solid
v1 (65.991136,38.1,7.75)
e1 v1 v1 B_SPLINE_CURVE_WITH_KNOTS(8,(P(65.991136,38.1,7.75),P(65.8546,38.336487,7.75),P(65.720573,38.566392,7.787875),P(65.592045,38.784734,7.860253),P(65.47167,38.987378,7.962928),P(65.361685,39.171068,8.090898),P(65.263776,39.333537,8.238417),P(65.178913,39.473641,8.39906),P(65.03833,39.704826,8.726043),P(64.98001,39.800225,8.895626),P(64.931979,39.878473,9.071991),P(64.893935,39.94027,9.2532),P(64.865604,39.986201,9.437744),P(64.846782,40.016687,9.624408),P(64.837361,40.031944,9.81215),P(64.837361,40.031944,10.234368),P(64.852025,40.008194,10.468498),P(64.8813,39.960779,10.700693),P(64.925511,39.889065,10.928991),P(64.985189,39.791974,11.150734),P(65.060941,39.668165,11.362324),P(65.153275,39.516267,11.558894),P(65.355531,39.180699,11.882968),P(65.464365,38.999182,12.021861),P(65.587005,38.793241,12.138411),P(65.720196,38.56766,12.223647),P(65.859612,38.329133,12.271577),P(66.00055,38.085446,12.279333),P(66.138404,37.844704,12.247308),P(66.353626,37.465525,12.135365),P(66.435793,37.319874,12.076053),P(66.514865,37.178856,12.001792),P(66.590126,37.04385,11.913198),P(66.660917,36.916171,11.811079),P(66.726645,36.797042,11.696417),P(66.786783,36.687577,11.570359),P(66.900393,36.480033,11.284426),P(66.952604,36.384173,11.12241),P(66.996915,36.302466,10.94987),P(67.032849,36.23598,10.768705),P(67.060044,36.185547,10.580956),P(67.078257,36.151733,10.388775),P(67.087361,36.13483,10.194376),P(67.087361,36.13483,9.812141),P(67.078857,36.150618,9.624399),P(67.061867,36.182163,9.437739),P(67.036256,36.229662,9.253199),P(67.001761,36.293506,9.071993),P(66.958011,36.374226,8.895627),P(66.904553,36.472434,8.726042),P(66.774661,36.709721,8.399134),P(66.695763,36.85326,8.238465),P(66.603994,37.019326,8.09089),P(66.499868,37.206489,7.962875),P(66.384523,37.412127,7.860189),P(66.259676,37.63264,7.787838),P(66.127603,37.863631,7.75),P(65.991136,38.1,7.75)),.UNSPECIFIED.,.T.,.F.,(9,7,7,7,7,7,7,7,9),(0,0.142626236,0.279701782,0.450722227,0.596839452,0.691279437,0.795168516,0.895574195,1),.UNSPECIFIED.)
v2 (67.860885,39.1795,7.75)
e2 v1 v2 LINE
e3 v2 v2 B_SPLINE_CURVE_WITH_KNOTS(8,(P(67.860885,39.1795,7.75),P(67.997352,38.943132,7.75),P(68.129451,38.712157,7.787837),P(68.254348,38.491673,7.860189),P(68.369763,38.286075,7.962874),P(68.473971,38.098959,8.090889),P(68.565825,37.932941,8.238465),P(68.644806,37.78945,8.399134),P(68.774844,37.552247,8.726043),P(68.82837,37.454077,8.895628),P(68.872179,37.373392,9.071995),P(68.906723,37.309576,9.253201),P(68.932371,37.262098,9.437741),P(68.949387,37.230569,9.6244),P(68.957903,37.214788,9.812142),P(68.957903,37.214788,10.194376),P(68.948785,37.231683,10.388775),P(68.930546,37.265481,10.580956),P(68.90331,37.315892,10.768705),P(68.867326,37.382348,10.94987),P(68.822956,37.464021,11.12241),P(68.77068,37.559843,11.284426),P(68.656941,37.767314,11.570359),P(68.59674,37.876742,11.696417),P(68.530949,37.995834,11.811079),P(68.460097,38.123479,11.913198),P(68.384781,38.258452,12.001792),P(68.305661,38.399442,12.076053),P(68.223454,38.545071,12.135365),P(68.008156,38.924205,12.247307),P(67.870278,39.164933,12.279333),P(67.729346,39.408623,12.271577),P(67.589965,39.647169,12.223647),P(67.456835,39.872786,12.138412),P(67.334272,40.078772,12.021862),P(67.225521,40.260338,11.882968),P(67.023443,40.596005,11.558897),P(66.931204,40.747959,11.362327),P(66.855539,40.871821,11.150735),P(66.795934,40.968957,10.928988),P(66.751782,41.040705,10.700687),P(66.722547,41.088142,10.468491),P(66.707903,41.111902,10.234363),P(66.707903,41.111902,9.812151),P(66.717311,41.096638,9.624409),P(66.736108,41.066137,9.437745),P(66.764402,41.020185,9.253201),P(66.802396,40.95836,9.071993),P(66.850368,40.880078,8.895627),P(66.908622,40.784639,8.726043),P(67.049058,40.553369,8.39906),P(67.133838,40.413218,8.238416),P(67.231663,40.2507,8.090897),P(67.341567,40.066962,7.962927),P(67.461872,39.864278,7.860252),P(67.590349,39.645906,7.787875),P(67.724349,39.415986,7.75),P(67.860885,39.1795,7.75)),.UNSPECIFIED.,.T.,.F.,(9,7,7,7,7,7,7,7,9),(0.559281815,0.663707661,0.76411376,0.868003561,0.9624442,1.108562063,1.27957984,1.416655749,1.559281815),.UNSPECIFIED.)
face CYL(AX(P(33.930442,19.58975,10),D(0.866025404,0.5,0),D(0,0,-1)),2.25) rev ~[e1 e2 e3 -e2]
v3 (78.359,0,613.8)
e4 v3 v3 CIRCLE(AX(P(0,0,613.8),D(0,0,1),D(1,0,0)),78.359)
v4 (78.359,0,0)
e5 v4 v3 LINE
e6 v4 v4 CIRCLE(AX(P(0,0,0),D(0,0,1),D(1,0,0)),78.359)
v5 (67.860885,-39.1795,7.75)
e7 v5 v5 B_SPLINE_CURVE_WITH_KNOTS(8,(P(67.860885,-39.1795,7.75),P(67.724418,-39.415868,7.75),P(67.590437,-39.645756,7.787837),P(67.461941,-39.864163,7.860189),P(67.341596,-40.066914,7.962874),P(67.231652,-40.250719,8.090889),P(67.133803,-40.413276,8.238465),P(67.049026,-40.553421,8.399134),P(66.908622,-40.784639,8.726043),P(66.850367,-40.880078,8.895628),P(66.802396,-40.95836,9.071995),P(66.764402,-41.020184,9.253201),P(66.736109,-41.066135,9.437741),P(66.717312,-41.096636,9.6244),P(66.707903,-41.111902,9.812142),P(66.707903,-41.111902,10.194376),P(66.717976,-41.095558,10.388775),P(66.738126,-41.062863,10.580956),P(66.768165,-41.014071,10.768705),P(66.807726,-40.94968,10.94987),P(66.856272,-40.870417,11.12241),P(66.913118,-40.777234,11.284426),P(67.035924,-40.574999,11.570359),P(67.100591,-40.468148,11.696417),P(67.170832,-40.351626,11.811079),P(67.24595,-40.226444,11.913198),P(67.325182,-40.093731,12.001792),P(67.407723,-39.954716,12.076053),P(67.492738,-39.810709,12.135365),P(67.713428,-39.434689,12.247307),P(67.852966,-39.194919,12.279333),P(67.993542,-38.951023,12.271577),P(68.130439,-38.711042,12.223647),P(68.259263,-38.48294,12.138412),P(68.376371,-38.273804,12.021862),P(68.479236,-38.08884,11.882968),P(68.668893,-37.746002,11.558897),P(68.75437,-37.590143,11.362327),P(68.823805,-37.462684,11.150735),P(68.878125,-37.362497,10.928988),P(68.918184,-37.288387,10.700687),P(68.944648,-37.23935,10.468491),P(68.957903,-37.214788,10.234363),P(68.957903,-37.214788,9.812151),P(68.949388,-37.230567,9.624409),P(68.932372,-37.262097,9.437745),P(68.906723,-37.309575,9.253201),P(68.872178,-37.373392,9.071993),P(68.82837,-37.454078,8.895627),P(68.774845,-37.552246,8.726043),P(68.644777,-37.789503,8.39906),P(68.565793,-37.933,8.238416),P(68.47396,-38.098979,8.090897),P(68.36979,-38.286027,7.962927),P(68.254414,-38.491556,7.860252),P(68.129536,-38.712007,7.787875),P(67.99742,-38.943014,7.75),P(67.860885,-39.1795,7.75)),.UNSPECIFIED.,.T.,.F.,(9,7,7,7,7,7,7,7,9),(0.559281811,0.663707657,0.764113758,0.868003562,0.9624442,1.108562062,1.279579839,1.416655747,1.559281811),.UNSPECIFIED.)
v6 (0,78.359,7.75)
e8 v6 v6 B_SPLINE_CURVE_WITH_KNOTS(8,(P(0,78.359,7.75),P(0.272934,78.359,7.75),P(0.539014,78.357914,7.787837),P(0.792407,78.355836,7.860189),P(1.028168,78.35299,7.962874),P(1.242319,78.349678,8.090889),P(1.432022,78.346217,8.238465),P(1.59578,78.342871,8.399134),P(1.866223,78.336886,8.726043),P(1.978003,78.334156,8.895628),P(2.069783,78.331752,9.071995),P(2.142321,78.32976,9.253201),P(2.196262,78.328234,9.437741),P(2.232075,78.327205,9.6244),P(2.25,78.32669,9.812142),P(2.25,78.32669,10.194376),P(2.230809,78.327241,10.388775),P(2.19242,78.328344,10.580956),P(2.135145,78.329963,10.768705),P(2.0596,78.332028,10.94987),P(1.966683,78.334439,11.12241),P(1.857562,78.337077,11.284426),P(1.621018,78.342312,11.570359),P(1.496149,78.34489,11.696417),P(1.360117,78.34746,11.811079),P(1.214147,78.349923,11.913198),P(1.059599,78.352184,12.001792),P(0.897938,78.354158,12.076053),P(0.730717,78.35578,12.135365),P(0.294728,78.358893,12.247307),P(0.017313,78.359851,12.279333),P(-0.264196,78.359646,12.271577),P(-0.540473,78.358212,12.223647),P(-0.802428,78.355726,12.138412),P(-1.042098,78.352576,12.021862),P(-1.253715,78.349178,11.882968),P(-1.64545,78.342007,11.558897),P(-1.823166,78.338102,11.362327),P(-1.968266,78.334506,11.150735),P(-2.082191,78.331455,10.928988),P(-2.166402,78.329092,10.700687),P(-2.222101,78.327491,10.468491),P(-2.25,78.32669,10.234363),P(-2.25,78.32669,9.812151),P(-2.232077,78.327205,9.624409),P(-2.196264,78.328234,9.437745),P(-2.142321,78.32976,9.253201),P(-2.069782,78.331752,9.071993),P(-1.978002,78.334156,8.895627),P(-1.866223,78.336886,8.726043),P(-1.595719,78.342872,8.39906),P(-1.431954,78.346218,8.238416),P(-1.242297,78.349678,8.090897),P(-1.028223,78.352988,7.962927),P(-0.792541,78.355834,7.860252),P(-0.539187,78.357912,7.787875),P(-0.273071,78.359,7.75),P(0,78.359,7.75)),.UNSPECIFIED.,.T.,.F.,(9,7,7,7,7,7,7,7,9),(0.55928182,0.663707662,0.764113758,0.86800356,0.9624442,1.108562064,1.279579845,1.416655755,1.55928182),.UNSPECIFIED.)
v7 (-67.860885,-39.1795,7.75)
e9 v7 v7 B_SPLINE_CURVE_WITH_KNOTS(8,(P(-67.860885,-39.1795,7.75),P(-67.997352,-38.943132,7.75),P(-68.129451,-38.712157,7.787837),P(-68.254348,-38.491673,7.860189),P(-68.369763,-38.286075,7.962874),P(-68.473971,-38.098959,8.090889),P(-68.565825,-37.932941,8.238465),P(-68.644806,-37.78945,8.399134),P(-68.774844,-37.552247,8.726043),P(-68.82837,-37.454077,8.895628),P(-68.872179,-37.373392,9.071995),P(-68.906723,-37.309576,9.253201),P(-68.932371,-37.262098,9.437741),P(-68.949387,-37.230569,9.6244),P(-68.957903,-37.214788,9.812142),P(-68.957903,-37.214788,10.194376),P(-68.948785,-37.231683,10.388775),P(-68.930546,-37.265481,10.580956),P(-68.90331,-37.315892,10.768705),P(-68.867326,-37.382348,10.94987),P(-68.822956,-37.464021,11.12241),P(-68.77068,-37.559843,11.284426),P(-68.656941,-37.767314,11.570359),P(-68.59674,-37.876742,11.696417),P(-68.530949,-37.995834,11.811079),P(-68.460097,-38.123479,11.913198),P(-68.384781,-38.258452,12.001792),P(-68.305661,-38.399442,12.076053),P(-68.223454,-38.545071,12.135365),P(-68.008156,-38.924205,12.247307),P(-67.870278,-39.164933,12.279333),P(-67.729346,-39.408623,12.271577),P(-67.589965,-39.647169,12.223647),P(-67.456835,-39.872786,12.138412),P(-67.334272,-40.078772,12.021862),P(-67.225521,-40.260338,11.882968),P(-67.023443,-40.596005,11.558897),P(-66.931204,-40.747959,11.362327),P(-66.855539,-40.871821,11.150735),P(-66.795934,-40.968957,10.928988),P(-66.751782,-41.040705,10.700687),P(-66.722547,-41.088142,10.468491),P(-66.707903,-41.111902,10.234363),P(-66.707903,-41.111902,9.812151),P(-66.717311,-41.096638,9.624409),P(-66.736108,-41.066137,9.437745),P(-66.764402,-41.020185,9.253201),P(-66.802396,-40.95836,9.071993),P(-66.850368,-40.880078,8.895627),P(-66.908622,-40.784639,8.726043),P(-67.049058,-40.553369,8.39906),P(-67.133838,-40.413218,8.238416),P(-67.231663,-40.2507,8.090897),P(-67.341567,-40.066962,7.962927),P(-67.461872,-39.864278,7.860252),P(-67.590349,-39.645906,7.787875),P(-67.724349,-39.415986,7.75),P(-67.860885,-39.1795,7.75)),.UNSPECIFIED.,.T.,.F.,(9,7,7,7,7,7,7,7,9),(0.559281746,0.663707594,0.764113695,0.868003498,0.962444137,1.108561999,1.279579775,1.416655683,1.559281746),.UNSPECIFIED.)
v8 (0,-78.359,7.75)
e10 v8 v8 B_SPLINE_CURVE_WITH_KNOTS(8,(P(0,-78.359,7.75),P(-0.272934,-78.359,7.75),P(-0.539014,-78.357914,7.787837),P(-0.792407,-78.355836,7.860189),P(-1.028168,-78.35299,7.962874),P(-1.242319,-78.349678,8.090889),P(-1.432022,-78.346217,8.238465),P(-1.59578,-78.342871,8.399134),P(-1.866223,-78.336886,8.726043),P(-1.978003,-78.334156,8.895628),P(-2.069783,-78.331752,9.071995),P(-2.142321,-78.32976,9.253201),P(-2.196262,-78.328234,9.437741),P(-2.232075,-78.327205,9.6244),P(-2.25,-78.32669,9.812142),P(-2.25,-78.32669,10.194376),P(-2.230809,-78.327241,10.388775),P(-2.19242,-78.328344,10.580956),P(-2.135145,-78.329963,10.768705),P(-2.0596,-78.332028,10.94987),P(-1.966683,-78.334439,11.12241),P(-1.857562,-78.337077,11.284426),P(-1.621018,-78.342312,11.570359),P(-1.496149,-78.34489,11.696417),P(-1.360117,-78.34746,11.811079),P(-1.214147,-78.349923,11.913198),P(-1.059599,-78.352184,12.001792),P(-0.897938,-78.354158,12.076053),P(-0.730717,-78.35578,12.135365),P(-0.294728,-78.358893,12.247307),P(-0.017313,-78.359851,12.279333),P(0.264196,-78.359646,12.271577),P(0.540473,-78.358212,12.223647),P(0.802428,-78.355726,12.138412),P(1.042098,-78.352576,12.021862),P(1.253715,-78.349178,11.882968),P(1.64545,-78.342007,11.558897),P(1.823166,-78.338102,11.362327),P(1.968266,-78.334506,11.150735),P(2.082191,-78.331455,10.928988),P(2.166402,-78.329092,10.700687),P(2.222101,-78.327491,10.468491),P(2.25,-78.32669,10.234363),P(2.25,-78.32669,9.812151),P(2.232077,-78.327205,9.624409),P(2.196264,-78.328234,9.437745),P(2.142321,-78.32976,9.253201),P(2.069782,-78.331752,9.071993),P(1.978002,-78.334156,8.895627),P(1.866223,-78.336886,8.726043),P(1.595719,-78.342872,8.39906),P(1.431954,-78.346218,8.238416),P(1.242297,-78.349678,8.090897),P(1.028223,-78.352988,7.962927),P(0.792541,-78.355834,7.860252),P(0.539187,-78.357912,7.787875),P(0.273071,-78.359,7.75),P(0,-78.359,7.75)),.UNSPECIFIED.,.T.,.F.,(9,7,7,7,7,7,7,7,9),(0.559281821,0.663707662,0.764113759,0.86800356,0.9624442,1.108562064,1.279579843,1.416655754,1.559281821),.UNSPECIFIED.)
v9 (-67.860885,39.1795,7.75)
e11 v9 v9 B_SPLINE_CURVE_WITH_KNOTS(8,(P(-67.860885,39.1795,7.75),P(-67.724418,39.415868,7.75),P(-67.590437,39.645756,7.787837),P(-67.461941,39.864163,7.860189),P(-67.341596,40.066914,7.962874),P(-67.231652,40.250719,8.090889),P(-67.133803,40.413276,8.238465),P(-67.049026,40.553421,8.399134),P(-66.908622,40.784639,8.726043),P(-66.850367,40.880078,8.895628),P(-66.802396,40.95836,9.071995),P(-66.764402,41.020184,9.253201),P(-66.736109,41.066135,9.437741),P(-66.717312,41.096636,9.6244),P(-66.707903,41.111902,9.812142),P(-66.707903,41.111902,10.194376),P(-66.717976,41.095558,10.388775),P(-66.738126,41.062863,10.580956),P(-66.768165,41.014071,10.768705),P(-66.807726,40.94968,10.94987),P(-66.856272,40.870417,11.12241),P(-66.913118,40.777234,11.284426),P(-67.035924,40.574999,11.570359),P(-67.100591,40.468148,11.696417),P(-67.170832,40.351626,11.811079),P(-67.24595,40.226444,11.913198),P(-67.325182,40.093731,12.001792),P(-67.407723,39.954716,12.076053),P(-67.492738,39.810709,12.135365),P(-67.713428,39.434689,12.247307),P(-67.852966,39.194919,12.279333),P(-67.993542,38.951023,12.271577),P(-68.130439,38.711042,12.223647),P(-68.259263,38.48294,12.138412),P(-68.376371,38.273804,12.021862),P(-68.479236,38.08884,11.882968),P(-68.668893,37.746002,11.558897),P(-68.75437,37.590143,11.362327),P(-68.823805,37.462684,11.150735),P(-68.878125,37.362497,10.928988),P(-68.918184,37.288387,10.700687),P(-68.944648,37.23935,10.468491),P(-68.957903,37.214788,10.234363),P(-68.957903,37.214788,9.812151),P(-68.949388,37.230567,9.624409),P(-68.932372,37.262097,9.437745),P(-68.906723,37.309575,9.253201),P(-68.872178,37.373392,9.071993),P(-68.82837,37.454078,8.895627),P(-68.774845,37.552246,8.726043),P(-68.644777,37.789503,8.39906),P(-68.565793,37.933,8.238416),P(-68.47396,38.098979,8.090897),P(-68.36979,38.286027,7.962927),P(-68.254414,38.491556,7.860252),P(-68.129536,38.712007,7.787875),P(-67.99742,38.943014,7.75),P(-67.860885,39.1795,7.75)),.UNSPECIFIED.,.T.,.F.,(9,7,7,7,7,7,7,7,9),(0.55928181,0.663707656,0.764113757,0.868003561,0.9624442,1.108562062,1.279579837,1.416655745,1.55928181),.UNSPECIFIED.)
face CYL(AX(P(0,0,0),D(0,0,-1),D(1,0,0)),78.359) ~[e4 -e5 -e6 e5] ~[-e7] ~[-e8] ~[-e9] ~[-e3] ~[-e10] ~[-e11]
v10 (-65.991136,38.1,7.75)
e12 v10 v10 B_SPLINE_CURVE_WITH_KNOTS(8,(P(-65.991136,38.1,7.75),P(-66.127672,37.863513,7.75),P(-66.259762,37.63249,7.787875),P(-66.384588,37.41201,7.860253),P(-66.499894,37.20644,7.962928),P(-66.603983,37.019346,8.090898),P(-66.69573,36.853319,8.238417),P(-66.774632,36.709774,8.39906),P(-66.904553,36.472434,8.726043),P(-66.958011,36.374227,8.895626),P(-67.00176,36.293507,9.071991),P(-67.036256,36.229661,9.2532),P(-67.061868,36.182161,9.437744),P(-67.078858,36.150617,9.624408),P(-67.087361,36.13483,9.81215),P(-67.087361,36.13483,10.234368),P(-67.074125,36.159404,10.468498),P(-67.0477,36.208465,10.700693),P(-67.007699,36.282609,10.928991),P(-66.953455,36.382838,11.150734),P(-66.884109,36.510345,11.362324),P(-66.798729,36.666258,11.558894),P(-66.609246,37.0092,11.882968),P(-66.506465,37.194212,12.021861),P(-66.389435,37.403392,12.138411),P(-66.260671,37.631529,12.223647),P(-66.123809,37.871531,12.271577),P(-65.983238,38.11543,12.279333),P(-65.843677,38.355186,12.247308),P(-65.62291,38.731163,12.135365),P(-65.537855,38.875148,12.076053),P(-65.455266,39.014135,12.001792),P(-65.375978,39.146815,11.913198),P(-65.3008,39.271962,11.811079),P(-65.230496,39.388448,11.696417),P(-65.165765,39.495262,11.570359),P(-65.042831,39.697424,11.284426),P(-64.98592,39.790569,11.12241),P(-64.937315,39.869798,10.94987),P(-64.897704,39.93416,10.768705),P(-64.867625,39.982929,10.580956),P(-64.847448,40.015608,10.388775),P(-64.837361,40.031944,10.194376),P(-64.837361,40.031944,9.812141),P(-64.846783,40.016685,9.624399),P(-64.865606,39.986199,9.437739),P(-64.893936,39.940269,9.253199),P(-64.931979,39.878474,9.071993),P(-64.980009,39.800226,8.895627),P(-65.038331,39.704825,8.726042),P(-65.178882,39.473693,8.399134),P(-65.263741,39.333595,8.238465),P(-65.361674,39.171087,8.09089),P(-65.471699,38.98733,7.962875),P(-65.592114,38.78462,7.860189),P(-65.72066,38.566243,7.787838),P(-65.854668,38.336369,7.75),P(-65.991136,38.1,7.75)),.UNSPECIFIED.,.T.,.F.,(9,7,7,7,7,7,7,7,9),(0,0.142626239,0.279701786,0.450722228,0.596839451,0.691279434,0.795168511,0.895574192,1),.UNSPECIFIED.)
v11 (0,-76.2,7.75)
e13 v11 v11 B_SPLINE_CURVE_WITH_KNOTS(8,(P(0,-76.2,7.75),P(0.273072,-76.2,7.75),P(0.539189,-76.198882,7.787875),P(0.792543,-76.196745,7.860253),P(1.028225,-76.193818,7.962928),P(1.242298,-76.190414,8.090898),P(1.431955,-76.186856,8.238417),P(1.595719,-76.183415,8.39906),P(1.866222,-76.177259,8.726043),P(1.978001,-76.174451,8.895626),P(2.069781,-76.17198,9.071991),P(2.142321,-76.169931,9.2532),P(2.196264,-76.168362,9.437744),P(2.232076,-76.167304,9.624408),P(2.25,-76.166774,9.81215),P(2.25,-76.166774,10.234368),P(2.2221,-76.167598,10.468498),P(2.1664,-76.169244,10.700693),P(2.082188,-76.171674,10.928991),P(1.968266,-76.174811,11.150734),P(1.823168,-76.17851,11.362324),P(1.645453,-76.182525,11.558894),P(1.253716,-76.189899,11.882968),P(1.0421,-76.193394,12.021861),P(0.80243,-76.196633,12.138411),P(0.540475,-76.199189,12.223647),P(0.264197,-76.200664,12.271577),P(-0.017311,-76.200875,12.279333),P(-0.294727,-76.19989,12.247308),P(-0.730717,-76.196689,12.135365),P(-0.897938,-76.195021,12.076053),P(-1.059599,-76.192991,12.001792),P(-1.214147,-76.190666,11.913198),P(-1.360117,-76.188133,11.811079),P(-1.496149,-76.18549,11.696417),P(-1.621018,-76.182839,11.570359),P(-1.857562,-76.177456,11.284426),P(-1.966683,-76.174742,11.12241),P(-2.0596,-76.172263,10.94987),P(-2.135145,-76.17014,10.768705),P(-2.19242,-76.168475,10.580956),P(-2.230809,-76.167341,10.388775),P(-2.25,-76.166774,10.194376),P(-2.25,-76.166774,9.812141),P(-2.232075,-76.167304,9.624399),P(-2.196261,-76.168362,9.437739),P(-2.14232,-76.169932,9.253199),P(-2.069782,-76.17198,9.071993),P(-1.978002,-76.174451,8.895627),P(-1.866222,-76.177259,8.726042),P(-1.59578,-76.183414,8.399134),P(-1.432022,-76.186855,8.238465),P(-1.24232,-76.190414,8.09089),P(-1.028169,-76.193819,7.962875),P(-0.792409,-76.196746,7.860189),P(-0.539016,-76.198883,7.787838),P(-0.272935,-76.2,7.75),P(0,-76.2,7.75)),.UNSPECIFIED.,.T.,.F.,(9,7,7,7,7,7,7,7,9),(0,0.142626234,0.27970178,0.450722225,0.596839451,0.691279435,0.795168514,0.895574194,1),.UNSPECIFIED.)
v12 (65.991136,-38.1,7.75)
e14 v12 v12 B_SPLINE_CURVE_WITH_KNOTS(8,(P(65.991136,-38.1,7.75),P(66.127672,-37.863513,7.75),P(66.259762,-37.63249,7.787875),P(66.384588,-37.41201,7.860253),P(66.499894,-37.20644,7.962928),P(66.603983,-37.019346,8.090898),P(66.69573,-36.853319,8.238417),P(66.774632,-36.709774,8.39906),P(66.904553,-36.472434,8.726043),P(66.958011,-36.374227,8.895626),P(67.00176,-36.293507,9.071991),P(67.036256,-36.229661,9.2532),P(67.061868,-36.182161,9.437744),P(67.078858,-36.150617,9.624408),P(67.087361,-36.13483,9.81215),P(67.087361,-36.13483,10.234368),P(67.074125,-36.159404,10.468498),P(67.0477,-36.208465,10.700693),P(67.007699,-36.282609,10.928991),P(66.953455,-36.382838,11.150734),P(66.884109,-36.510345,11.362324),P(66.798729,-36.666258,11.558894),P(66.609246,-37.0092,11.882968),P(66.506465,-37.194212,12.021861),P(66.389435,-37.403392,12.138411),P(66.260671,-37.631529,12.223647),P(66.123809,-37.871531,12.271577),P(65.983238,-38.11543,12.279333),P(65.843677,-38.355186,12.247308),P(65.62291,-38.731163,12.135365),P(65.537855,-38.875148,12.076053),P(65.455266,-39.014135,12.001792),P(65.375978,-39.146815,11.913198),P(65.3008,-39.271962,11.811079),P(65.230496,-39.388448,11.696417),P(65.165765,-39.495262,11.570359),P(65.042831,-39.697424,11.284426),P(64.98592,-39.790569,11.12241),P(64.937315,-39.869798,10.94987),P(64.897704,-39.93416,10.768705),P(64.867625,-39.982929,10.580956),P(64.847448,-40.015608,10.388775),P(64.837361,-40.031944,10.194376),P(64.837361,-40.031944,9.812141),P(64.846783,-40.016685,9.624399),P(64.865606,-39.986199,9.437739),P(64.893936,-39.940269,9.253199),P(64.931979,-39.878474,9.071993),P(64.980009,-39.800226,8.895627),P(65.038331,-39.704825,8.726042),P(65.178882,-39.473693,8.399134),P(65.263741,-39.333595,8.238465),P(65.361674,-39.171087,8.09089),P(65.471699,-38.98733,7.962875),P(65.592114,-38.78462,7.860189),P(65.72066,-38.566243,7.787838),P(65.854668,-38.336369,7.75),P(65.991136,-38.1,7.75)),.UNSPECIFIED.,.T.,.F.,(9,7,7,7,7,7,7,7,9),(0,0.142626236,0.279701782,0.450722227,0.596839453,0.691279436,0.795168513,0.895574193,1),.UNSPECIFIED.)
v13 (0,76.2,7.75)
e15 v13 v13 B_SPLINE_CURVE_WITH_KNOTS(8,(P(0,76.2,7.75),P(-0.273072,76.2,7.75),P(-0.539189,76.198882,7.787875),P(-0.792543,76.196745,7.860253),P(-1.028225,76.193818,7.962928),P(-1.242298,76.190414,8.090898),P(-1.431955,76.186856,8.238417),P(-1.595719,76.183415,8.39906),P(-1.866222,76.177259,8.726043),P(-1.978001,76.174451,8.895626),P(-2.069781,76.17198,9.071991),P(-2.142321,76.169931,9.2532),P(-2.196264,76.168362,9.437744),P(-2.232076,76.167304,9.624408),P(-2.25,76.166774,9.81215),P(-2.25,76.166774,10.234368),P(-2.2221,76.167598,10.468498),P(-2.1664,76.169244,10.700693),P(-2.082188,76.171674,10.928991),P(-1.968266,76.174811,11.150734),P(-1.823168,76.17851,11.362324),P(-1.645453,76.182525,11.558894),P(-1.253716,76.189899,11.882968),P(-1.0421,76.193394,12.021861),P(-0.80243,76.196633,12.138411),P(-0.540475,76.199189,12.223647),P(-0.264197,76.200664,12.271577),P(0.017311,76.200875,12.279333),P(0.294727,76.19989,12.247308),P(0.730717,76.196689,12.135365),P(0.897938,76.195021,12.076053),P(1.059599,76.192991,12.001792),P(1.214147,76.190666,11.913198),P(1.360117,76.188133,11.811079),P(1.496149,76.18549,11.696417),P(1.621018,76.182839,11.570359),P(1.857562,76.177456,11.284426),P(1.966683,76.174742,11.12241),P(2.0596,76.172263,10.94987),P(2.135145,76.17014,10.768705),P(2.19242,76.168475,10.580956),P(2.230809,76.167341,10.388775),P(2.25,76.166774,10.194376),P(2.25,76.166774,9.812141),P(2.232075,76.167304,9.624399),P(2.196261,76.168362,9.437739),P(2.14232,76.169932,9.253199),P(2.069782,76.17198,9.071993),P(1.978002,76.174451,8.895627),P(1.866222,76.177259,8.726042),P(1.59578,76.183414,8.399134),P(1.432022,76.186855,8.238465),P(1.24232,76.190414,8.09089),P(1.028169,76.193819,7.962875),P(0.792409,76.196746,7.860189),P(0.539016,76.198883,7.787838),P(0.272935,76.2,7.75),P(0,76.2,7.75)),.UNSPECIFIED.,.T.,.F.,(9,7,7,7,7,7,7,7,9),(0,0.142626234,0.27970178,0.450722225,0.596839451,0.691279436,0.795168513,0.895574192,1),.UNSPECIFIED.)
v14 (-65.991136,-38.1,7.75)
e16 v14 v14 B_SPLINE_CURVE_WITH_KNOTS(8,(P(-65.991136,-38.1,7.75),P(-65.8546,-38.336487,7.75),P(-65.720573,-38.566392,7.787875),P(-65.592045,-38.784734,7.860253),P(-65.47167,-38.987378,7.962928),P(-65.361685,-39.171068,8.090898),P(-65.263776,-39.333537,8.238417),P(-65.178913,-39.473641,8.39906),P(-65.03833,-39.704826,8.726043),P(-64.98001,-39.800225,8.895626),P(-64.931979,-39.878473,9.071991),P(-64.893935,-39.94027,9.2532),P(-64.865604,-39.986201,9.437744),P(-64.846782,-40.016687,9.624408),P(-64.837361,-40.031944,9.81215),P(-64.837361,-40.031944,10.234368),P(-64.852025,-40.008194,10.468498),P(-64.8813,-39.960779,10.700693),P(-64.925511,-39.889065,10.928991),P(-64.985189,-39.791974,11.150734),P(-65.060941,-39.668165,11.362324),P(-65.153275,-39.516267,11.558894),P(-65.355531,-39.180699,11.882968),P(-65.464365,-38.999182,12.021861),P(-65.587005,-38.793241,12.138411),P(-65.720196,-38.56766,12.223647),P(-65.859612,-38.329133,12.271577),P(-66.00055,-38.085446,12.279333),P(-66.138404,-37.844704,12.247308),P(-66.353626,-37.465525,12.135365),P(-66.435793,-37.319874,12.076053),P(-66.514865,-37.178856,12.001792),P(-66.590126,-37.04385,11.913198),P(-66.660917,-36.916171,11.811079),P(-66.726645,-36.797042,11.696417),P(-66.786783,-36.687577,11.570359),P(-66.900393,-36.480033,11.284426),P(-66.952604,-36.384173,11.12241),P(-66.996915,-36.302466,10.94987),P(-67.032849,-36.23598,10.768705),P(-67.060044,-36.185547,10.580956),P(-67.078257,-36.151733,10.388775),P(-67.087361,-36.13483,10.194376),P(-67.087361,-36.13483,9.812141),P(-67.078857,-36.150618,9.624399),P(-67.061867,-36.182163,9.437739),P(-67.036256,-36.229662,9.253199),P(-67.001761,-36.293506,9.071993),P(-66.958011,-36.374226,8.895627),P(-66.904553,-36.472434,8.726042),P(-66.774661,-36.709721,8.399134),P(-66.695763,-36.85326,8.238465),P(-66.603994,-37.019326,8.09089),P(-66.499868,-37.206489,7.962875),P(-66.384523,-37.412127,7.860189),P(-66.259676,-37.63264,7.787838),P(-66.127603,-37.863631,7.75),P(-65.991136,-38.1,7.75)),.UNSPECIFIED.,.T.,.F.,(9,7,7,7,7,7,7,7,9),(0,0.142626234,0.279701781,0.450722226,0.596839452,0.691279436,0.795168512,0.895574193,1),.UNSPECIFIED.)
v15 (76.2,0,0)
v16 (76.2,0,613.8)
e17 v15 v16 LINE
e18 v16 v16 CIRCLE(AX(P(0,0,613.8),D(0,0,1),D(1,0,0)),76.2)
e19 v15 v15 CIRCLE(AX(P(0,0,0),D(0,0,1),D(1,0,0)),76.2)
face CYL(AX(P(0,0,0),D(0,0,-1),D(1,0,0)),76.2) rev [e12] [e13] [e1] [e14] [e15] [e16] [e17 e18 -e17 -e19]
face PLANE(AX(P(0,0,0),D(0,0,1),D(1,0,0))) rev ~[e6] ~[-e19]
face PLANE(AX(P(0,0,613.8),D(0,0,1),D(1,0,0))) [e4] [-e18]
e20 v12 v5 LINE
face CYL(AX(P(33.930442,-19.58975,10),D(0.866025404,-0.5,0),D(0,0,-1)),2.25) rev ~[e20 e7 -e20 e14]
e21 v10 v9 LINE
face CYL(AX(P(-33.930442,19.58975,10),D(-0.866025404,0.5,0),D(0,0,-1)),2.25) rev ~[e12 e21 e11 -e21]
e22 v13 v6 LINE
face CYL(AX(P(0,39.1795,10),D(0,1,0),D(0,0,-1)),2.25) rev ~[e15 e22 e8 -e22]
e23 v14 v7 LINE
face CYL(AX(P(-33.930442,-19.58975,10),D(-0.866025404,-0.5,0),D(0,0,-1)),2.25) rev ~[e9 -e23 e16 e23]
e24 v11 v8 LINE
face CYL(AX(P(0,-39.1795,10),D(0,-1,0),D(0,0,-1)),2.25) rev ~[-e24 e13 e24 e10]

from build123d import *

# Parameters (mm, degrees)
SKETCH1_R           = 78.359
SKETCH1_R_2         = 76.2
BOSS_EXTRUDE1_DEPTH = 613.8
SKETCH5_W           = 2.25
SKETCH5_H           = 78.359
CIRPATTERN2_COUNT   = 6


with BuildPart() as part:
    # Sketch1 → Boss-Extrude1 (new body)
    with BuildSketch(Plane.XY):
        Circle(SKETCH1_R)
        Circle(SKETCH1_R_2, mode=Mode.SUBTRACT)
    extrude(amount=BOSS_EXTRUDE1_DEPTH)

    # Sketch5 → M4 Clearance Hole2 (revolve, cut)
    with BuildSketch(Plane(origin=(0, 0, 10), x_dir=(0, 0, -1), z_dir=(1, 0, 0))):
        with Locations((1.125, 39.1795)):
            Rectangle(SKETCH5_W, SKETCH5_H)
    m4_clearance_hole2 = revolve(axis=Axis((0, -6.35, 10), (0, 1, 0)), mode=Mode.SUBTRACT)

    # CirPattern2: M4 Clearance Hole2 ×6 about axis
    cirpattern2_axis = Axis((0, 0, 613.8), (0, 0, -1))
    for i in range(1, CIRPATTERN2_COUNT):
        add(m4_clearance_hole2.rotate(cirpattern2_axis, i * 360 / CIRPATTERN2_COUNT), mode=Mode.SUBTRACT)


solid = part.part
